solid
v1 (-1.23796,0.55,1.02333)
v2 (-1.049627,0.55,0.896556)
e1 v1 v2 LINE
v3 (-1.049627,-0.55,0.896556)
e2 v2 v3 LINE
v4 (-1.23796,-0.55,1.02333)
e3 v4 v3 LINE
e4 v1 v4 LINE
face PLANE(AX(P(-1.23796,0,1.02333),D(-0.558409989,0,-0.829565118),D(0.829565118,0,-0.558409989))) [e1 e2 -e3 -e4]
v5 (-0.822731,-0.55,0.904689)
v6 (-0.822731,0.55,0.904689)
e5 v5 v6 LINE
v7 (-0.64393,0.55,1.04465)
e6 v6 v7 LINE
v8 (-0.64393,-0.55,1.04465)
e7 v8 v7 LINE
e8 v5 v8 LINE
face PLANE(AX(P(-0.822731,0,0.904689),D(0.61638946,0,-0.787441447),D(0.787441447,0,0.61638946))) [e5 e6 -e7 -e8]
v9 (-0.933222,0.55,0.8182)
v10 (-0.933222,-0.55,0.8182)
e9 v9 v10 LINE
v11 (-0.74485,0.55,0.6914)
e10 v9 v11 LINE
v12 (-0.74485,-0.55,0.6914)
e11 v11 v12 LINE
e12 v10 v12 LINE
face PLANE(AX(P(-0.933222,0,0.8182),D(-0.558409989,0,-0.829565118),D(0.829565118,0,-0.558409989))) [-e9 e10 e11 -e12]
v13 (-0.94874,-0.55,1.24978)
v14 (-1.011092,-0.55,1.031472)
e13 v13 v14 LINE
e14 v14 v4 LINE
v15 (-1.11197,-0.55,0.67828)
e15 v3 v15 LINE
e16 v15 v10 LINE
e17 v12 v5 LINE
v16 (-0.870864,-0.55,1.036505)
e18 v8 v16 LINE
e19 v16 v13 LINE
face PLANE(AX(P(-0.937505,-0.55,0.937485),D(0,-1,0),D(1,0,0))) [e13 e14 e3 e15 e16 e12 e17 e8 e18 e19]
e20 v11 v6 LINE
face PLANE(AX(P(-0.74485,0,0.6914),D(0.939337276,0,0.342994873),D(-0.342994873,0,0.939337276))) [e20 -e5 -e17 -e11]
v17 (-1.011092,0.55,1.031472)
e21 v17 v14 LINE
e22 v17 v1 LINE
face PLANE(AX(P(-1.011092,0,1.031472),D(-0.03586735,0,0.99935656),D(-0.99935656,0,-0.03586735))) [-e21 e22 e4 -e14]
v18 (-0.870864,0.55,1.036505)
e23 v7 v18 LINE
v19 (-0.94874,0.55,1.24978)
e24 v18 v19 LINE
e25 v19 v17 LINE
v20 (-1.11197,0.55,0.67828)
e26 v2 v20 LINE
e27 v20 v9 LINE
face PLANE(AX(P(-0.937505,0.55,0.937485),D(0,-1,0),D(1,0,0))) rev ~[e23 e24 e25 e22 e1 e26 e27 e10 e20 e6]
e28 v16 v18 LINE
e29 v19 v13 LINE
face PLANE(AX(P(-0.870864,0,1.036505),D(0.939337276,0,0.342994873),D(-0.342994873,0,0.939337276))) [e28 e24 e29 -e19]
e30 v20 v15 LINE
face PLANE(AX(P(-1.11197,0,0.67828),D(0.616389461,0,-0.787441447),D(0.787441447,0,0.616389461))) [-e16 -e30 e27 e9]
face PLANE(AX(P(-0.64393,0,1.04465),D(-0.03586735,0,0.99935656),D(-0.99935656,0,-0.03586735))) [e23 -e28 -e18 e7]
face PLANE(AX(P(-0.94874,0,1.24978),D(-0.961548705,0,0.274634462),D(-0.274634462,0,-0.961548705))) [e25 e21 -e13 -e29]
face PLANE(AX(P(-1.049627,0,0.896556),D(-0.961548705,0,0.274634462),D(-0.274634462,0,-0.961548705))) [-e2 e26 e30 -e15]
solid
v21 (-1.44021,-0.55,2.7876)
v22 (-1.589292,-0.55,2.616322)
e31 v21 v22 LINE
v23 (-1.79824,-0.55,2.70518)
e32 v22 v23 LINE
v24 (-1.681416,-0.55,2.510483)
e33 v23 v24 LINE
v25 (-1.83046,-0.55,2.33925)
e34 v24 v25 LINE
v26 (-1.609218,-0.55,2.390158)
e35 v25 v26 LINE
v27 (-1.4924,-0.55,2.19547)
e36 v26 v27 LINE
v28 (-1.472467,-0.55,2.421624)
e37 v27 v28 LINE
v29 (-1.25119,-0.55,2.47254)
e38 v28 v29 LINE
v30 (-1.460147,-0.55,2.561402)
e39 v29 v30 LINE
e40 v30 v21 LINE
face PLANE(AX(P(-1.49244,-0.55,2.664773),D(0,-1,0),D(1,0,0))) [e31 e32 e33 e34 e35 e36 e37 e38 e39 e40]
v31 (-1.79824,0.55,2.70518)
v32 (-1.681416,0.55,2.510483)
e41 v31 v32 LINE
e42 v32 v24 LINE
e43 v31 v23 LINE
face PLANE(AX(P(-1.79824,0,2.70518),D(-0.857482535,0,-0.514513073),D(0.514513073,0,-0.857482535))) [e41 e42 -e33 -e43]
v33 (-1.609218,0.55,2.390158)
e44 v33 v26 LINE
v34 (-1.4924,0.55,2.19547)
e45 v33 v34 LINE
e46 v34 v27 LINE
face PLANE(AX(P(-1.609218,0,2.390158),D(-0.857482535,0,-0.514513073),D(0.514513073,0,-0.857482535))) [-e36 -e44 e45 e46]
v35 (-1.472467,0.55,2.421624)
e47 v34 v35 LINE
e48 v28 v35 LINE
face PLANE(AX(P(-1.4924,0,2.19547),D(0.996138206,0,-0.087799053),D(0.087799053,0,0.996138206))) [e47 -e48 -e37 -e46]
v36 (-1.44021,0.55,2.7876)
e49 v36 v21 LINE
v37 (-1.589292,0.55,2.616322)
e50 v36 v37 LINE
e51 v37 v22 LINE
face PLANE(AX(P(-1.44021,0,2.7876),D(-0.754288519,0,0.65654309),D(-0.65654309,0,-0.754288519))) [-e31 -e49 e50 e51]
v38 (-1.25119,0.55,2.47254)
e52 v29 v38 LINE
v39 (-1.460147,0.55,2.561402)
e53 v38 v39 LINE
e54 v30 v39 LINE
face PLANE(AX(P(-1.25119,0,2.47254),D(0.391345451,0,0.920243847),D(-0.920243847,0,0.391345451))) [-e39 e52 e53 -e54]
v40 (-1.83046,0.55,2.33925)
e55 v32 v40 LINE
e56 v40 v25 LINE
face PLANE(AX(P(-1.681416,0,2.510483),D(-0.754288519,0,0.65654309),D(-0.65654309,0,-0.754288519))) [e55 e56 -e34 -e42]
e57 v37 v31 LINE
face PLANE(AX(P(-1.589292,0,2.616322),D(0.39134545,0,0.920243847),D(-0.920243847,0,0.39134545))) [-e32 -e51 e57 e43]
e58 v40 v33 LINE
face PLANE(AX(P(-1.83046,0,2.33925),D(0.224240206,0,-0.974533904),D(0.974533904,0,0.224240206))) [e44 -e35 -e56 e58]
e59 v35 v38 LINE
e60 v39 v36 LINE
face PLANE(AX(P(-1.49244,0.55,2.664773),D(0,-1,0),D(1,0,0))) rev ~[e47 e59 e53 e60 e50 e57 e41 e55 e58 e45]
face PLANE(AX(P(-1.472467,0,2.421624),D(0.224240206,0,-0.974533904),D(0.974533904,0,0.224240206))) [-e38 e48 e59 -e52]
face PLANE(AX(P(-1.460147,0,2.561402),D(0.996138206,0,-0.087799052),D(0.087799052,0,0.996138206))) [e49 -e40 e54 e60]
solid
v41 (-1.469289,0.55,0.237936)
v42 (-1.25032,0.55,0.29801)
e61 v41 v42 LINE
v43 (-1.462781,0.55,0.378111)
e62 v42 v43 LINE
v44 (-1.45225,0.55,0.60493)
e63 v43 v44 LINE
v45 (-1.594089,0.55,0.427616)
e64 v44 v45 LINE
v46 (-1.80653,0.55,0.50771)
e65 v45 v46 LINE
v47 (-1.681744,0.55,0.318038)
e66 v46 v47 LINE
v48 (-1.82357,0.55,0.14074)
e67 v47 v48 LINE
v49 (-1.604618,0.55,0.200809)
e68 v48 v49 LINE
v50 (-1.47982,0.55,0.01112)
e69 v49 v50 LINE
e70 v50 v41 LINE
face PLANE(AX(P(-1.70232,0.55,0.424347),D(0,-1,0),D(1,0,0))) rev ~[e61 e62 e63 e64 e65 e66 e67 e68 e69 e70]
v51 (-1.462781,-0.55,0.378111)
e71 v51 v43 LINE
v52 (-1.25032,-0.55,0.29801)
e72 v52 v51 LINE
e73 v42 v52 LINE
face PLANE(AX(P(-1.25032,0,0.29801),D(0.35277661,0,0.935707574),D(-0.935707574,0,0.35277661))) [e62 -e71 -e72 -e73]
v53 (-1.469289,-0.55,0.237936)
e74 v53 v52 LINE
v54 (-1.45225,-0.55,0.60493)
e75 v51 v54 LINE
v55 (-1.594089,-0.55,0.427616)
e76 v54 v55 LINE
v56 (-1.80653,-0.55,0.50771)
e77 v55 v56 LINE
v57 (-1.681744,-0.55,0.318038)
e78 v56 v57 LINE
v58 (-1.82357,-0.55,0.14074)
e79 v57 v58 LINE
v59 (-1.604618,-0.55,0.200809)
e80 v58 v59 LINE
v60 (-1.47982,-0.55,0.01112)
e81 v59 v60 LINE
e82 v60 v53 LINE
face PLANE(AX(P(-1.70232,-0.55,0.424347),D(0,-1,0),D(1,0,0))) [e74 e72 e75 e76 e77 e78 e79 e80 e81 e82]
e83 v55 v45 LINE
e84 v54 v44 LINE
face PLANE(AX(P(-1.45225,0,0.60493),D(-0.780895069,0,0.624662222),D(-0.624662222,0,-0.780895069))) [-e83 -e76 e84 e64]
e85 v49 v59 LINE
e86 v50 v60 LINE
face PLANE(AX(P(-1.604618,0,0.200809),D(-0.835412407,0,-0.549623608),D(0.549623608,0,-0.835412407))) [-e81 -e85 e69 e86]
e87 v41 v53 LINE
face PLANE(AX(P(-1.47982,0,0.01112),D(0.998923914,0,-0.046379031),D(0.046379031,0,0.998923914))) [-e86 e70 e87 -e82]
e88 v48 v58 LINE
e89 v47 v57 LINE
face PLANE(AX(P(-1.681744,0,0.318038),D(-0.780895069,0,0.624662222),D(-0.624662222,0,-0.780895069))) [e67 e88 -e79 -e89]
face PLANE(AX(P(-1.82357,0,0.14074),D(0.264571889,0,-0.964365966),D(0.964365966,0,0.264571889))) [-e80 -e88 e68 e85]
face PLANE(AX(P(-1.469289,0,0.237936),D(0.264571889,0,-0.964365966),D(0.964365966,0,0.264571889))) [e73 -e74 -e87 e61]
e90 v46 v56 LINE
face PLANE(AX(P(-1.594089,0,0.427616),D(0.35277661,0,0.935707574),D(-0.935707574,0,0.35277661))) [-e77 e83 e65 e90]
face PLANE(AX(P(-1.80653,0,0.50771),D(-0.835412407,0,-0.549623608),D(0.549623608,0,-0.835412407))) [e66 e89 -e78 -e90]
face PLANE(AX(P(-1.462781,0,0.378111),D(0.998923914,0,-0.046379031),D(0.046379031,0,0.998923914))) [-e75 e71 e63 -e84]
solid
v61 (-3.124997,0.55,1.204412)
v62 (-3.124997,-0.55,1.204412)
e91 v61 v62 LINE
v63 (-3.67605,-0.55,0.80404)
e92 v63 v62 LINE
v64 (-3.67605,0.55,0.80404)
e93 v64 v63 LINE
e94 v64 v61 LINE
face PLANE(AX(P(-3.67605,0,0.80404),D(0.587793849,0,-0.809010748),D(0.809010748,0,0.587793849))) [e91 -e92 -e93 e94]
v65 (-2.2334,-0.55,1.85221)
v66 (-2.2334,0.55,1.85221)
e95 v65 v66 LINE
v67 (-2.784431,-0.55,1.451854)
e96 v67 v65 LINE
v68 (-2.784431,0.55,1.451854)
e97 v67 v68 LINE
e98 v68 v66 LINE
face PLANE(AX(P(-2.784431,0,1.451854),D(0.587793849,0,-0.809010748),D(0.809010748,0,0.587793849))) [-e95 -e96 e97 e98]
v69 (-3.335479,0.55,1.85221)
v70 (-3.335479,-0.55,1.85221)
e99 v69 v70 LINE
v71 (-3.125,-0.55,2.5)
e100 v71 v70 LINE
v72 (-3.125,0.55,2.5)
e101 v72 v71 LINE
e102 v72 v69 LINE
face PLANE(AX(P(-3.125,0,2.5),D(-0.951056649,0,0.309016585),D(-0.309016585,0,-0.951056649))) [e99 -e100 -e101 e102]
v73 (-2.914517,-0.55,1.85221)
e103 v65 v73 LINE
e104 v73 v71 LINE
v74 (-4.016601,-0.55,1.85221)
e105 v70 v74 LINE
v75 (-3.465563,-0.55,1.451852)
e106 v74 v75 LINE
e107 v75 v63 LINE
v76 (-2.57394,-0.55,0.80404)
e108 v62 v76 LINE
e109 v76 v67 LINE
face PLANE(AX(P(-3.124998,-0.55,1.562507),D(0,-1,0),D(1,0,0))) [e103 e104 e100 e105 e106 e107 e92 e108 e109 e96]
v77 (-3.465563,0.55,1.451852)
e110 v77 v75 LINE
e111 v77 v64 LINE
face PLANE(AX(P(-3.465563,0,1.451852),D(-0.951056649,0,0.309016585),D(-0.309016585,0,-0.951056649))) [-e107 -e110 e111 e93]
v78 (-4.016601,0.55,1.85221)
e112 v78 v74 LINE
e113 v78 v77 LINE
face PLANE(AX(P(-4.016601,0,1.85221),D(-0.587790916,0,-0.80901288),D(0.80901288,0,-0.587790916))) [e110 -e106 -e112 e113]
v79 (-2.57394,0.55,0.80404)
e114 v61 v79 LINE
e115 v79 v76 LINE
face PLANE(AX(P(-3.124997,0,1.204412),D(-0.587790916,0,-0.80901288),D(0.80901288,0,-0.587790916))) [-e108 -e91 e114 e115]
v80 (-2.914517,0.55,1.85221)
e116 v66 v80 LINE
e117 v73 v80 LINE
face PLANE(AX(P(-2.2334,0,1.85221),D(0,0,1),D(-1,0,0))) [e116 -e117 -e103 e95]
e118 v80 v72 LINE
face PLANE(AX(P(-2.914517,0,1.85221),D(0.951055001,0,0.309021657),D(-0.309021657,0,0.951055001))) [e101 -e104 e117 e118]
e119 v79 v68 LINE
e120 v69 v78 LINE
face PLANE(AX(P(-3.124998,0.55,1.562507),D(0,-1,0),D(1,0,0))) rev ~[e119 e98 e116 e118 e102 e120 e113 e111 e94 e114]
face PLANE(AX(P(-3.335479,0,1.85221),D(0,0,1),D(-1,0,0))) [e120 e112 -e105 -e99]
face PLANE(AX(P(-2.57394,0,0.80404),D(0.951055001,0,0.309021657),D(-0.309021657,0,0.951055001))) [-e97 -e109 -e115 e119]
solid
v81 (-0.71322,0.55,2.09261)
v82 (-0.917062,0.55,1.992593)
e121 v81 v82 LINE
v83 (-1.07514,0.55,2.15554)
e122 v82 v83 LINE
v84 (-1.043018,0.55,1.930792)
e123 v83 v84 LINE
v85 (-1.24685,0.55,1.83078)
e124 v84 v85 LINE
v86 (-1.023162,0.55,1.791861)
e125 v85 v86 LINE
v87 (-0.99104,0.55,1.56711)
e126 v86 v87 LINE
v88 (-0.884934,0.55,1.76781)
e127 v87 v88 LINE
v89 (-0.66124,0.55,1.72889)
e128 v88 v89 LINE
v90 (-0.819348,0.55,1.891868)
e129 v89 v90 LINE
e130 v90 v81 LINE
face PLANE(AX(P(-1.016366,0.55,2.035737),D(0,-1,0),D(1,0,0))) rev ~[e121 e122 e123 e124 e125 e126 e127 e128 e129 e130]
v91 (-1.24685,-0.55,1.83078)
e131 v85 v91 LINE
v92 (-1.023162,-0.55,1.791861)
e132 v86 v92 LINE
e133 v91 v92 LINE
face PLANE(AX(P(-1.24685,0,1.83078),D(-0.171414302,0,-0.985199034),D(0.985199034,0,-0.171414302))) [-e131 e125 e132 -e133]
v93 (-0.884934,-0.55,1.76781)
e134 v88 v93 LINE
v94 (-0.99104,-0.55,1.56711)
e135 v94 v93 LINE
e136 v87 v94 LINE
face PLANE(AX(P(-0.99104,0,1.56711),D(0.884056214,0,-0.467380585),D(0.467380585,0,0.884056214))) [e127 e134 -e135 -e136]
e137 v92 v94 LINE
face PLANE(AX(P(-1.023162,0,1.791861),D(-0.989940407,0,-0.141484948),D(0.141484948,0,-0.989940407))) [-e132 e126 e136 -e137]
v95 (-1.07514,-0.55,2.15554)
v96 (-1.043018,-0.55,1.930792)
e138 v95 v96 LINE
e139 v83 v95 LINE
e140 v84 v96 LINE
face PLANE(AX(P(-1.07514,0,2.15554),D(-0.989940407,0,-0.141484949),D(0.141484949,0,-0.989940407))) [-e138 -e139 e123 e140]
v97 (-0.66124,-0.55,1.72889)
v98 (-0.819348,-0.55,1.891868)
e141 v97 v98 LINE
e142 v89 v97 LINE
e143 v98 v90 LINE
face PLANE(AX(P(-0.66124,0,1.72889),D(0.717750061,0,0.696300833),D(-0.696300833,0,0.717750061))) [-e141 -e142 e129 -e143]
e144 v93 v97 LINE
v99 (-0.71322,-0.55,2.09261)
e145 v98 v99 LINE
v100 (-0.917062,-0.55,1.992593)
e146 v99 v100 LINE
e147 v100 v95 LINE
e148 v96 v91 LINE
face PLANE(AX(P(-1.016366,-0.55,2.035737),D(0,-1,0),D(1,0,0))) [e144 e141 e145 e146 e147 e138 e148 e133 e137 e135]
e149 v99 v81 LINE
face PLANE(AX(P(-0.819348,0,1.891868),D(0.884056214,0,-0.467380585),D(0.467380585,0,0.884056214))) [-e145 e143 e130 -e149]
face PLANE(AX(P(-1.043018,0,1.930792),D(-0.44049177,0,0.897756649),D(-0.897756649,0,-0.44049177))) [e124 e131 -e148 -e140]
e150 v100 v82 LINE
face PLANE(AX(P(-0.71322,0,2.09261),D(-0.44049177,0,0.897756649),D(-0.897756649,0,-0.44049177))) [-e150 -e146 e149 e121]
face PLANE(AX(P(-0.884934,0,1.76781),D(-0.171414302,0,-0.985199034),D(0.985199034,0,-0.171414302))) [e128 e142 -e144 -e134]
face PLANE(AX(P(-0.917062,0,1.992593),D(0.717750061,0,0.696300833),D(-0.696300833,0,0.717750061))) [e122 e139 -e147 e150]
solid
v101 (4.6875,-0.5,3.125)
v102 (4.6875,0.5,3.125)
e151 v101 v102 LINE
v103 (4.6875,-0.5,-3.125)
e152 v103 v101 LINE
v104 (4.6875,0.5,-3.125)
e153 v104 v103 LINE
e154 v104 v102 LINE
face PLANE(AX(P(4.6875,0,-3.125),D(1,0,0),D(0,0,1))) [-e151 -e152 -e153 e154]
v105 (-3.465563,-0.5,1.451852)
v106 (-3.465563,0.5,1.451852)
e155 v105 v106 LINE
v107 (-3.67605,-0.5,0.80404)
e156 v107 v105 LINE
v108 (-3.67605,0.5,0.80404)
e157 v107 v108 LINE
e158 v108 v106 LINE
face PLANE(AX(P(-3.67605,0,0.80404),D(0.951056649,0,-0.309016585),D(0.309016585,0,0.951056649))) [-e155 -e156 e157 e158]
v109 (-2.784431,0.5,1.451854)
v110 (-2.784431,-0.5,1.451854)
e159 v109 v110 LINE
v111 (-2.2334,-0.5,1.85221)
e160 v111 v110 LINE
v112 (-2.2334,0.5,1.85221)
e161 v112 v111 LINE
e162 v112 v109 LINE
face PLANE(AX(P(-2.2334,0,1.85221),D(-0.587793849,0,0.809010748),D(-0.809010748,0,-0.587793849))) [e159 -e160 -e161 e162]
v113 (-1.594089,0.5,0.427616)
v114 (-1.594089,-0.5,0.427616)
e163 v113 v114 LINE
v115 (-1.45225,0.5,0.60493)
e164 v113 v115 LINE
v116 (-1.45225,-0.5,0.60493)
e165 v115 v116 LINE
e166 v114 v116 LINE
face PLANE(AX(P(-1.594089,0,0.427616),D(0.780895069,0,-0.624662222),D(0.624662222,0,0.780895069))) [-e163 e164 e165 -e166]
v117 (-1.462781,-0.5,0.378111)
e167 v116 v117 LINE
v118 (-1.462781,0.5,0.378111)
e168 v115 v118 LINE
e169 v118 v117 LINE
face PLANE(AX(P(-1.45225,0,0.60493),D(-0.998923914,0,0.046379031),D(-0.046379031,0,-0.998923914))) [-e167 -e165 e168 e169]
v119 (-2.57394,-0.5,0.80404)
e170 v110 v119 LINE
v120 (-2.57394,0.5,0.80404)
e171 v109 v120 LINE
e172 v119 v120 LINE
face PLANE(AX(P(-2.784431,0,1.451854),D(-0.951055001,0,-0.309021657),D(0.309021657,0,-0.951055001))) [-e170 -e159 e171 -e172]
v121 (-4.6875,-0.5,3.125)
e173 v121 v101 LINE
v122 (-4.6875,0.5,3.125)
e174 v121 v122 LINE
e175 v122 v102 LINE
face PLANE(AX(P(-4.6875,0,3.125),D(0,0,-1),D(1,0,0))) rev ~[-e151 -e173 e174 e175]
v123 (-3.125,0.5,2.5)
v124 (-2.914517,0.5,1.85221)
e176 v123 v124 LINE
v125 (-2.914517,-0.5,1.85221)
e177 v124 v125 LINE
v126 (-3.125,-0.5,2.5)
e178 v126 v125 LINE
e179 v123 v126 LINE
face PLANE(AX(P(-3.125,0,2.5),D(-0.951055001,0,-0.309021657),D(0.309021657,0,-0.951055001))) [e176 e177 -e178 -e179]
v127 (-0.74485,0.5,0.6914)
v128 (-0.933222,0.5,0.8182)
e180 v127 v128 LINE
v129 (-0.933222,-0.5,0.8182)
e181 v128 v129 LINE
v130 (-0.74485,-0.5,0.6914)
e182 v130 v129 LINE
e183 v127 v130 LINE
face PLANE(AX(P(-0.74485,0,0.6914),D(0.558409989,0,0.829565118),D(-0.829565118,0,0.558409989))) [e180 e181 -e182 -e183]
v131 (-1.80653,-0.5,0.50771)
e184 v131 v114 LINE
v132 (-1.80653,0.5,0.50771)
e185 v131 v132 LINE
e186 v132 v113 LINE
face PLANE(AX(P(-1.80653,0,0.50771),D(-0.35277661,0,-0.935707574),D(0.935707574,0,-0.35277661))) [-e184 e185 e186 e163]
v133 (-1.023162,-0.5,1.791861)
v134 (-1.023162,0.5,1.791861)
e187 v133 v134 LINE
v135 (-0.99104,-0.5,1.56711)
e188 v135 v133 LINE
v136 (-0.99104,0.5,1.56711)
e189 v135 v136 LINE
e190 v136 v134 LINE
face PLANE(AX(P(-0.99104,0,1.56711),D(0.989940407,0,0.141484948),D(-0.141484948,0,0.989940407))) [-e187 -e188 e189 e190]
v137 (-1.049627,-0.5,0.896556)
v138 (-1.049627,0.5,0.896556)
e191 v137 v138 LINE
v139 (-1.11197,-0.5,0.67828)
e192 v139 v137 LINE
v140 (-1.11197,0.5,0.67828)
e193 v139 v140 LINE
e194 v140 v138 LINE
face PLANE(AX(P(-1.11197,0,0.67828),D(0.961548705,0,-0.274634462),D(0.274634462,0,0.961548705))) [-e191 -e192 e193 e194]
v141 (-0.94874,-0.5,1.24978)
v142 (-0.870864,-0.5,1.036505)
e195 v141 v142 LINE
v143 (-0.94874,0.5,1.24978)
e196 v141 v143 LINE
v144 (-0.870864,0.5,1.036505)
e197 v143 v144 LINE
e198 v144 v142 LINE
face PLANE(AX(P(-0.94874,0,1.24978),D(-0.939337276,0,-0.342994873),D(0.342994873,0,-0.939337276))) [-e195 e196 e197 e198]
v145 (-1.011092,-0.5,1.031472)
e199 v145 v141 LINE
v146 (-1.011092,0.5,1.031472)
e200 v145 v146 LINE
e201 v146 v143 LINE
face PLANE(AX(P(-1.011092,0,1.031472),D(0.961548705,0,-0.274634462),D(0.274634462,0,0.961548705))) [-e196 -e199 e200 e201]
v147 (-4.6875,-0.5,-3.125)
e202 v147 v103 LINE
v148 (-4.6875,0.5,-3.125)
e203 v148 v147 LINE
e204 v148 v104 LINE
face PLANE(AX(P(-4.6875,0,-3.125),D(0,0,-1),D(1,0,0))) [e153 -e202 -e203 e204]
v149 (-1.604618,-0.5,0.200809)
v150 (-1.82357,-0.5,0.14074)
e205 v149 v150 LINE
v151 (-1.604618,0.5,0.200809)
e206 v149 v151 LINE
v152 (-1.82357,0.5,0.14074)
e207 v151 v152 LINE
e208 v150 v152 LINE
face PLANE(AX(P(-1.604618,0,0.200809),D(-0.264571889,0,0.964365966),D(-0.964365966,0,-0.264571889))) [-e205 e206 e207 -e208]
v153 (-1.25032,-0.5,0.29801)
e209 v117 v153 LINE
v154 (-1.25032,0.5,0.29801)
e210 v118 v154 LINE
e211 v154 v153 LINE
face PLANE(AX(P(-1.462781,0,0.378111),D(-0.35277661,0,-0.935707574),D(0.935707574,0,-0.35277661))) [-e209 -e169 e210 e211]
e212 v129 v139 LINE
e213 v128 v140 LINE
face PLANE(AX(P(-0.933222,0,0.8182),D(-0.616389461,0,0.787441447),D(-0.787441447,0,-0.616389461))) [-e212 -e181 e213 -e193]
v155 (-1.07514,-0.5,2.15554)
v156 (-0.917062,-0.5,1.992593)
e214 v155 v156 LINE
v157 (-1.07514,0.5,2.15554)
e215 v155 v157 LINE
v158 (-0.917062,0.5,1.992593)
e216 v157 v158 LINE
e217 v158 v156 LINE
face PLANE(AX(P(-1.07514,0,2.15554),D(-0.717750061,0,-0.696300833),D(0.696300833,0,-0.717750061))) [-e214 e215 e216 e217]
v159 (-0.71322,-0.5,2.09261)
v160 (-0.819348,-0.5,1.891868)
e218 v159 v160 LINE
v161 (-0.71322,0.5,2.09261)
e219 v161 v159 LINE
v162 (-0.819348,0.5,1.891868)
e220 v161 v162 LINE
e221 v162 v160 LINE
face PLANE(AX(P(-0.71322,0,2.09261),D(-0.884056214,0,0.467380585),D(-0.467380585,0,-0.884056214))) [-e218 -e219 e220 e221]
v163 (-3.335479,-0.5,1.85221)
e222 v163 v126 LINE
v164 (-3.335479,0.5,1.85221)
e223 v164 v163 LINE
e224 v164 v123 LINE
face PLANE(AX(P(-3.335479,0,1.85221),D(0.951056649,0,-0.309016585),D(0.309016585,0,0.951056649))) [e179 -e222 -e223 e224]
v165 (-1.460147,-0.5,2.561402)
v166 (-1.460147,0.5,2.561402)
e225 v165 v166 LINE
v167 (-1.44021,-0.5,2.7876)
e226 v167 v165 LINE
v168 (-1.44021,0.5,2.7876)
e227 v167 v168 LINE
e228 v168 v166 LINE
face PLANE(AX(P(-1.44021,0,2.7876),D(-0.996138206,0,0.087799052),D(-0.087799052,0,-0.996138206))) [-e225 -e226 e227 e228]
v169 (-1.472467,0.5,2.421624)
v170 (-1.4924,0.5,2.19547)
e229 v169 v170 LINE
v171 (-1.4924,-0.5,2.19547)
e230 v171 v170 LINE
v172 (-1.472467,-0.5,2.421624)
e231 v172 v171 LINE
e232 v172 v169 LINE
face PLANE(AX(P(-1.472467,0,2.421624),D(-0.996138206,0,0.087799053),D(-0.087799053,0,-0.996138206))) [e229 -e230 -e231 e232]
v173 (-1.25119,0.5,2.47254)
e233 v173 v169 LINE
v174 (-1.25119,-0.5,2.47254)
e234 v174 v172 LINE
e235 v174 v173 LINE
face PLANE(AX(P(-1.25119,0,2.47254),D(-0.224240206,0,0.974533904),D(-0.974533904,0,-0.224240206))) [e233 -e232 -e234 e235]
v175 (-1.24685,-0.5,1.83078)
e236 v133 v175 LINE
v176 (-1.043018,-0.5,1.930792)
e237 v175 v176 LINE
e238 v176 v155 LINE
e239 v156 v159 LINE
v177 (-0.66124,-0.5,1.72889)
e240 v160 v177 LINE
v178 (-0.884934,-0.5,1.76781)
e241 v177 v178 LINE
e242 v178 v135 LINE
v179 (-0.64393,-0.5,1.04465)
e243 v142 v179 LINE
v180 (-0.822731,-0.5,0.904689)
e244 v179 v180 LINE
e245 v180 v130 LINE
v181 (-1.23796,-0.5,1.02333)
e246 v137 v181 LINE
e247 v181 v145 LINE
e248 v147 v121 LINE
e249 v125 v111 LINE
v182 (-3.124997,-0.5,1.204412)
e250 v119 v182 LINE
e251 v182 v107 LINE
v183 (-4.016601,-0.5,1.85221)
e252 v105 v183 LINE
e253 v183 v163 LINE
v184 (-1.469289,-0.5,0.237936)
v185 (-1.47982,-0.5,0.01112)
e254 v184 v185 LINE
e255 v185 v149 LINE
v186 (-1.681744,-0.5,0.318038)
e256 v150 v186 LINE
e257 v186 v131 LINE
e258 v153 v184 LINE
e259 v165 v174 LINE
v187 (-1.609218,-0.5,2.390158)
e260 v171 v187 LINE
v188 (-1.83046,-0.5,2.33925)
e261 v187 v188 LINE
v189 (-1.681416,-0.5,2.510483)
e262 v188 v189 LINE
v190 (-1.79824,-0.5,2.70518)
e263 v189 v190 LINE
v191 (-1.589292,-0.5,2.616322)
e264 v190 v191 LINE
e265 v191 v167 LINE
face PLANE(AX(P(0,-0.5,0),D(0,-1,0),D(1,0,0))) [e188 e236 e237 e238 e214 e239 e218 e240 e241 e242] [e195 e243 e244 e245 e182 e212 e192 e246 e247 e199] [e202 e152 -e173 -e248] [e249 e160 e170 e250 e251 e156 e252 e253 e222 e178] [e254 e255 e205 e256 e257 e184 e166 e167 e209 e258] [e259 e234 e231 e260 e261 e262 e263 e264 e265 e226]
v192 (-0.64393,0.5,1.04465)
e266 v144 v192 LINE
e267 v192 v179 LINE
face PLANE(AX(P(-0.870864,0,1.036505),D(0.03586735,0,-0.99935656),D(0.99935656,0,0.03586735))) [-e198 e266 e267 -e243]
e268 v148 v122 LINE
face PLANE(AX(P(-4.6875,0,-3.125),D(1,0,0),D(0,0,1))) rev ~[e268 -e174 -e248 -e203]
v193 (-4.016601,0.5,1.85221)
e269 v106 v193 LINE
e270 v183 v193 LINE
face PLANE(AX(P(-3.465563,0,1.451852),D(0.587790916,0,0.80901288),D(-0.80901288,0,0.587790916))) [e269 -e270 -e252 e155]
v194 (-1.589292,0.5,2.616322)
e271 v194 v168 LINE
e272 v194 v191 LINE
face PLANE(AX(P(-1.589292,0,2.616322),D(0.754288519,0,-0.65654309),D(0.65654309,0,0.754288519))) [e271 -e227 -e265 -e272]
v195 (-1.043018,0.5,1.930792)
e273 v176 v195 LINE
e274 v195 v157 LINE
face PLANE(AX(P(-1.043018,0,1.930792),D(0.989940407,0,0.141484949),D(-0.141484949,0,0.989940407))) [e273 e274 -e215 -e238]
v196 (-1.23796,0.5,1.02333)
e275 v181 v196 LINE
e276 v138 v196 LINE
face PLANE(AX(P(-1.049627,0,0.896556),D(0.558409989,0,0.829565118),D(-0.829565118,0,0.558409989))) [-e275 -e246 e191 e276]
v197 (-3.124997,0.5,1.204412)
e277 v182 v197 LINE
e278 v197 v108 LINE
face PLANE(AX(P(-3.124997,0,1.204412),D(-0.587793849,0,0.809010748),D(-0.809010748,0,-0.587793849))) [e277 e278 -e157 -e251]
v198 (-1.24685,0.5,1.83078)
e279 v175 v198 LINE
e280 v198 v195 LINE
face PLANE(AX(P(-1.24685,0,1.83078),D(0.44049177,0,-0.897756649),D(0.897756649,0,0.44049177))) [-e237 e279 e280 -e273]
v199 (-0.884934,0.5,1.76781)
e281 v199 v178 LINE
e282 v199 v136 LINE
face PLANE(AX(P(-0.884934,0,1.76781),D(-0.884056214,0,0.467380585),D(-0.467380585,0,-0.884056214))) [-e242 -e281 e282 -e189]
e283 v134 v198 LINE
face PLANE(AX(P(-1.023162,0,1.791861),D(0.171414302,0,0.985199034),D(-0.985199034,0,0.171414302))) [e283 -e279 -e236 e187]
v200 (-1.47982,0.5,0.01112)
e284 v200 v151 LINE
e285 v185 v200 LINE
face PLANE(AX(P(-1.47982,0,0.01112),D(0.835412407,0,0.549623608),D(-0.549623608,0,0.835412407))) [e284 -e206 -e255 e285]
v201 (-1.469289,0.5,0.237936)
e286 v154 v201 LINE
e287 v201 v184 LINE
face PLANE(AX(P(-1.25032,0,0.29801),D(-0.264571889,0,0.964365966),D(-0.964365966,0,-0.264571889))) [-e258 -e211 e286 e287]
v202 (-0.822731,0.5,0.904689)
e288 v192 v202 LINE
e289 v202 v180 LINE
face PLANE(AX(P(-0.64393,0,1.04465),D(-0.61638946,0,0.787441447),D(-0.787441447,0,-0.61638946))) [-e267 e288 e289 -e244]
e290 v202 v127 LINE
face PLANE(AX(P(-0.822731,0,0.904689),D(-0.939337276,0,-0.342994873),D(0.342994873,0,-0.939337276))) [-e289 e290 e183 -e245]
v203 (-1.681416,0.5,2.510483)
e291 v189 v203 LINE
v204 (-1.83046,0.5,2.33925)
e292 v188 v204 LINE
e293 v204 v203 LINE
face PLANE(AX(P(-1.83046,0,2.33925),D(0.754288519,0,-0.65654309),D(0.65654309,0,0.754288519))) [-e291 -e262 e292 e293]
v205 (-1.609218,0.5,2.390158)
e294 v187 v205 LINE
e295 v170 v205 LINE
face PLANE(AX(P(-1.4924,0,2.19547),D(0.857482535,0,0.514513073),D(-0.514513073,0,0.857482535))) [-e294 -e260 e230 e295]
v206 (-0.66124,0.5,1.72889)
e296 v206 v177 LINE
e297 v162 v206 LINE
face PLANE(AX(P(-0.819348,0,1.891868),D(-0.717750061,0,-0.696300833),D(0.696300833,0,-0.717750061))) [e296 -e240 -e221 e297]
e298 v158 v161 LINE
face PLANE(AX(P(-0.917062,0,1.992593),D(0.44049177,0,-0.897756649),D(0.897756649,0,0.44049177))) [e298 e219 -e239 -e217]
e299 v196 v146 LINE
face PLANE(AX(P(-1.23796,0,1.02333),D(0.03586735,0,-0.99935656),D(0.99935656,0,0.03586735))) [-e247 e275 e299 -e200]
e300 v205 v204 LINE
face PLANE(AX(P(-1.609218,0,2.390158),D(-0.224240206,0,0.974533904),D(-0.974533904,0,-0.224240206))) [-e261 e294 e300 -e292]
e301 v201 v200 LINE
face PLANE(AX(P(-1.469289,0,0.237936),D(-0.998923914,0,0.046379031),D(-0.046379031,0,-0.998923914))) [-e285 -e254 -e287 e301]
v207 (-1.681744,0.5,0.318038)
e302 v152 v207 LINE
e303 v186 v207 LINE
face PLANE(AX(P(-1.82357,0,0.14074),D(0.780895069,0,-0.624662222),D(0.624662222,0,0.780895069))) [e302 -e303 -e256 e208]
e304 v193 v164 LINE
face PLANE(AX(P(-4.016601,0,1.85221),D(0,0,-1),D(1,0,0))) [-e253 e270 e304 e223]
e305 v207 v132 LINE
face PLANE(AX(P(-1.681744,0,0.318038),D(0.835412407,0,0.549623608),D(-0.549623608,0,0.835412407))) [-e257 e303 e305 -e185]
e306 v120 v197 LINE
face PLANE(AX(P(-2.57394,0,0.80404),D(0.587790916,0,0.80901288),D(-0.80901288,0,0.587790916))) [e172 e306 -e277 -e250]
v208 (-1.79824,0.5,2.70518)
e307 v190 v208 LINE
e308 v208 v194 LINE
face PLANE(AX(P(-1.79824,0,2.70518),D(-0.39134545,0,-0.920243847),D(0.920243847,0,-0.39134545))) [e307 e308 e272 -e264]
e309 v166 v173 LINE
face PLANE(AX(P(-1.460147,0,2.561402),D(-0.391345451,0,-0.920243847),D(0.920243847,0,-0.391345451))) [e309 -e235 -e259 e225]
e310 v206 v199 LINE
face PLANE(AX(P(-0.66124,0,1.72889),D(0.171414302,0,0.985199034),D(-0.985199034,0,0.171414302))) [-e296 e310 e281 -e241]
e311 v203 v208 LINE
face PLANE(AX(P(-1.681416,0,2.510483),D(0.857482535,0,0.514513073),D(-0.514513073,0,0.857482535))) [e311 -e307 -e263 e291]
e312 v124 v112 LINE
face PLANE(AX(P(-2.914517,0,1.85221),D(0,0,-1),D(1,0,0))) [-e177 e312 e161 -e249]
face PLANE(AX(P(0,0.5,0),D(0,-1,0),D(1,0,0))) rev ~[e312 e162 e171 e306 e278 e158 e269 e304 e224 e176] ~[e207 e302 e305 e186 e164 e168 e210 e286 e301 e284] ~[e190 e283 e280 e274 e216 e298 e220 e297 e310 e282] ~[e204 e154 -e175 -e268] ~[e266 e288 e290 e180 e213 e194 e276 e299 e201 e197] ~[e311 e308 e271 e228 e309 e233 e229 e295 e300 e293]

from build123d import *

# Parameters (mm, degrees)
F0_W     = 9.375
F0_H     = 6.25
F1_DEPTH = 0.5
F2_DEPTH = 0.55


with BuildPart() as f1:
    # F0 (on Front) → F1 (new body, symmetric)
    with BuildSketch(Plane.XZ):
        Rectangle(F0_W, F0_H)
        Polygon((-1.5940887542, 0.4276162778), (-1.45225, 0.60493), (-1.4627809703, 0.3781111587), (-1.25032, 0.29801), (-1.4692891501, 0.2379362482), (-1.47982, 0.01112), (-1.6046177776, 0.2008091077), (-1.82357, 0.14074), (-1.6817436333, 0.3180382365), (-1.80653, 0.50771), align=None, mode=Mode.SUBTRACT)
        Polygon((-0.8708636636, 1.0365052502), (-0.64393, 1.04465), (-0.8227314344, 0.9046887114), (-0.74485, 0.6914), (-0.933221672, 0.8181997183), (-1.11197, 0.67828), (-1.0496266799, 0.8965560977), (-1.23796, 1.02333), (-1.011092323, 1.0314723815), (-0.94874, 1.24978), align=None, mode=Mode.SUBTRACT)
        Polygon((-3.3354794214, 1.85221), (-3.125, 2.5), (-2.914516759, 1.85221), (-2.2334, 1.85221), (-2.7844309261, 1.4518536518), (-2.57394, 0.80404), (-3.1249971008, 1.204412313), (-3.67605, 0.80404), (-3.4655634626, 1.4518519009), (-4.016601, 1.85221), align=None, mode=Mode.SUBTRACT)
        Polygon((-0.9170624909, 1.9925929856), (-0.71322, 2.09261), (-0.8193476982, 1.8918681334), (-0.66124, 1.72889), (-0.8849342003, 1.7678104455), (-0.99104, 1.56711), (-1.0231619648, 1.7918606272), (-1.24685, 1.83078), (-1.043018366, 1.9307916874), (-1.07514, 2.15554), align=None, mode=Mode.SUBTRACT)
        Polygon((-1.5892924054, 2.6163223665), (-1.44021, 2.7876), (-1.460146995, 2.5614016312), (-1.25119, 2.47254), (-1.4724668983, 2.421624196), (-1.4924, 2.19547), (-1.6092180103, 2.3901577715), (-1.83046, 2.33925), (-1.681416449, 2.5104829945), (-1.79824, 2.70518), align=None, mode=Mode.SUBTRACT)
    extrude(amount=F1_DEPTH, both=True)


with BuildPart() as f2:
    # F0 (on Front) → F2 (new body, symmetric)
    with BuildSketch(Plane.XZ):
        Polygon((-2.7844309261, 1.4518536518), (-2.914516759, 1.85221), (-3.3354794214, 1.85221), (-3.4655634626, 1.4518519009), (-3.1249971008, 1.204412313), align=None)
        Polygon((-2.914516759, 1.85221), (-3.125, 2.5), (-3.3354794214, 1.85221), align=None)
        Polygon((-2.2334, 1.85221), (-2.914516759, 1.85221), (-2.7844309261, 1.4518536518), align=None)
        Polygon((-3.4655634626, 1.4518519009), (-3.3354794214, 1.85221), (-4.016601, 1.85221), align=None)
        Polygon((-3.1249971008, 1.204412313), (-3.4655634626, 1.4518519009), (-3.67605, 0.80404), align=None)
        Polygon((-2.57394, 0.80404), (-2.7844309261, 1.4518536518), (-3.1249971008, 1.204412313), align=None)
    extrude(amount=F2_DEPTH, both=True)


with BuildPart() as f2b:
    # F0 (on Front) → F2, piece 2 (new body, symmetric)
    with BuildSketch(Plane.XZ):
        Polygon((-1.6817436333, 0.3180382365), (-1.5940887542, 0.4276162778), (-1.80653, 0.50771), align=None)
        Polygon((-1.4627809703, 0.3781111587), (-1.45225, 0.60493), (-1.5940887542, 0.4276162778), align=None)
        Polygon((-1.25032, 0.29801), (-1.4627809703, 0.3781111587), (-1.4692891501, 0.2379362482), align=None)
        Polygon((-1.47982, 0.01112), (-1.4692891501, 0.2379362482), (-1.6046177776, 0.2008091077), align=None)
        Polygon((-1.4692891501, 0.2379362482), (-1.4627809703, 0.3781111587), (-1.5940887542, 0.4276162778), (-1.6817436333, 0.3180382365), (-1.6046177776, 0.2008091077), align=None)
        Polygon((-1.6046177776, 0.2008091077), (-1.6817436333, 0.3180382365), (-1.82357, 0.14074), align=None)
    extrude(amount=F2_DEPTH, both=True)


with BuildPart() as f2c:
    # F0 (on Front) → F2, piece 3 (new body, symmetric)
    with BuildSketch(Plane.XZ):
        Polygon((-0.933221672, 0.8181997183), (-0.8227314344, 0.9046887114), (-0.8708636636, 1.0365052502), (-1.011092323, 1.0314723815), (-1.0496266799, 0.8965560977), align=None)
        Polygon((-0.74485, 0.6914), (-0.8227314344, 0.9046887114), (-0.933221672, 0.8181997183), align=None)
        Polygon((-1.11197, 0.67828), (-0.933221672, 0.8181997183), (-1.0496266799, 0.8965560977), align=None)
        Polygon((-1.011092323, 1.0314723815), (-0.8708636636, 1.0365052502), (-0.94874, 1.24978), align=None)
        Polygon((-1.0496266799, 0.8965560977), (-1.011092323, 1.0314723815), (-1.23796, 1.02333), align=None)
        Polygon((-0.8227314344, 0.9046887114), (-0.64393, 1.04465), (-0.8708636636, 1.0365052502), align=None)
    extrude(amount=F2_DEPTH, both=True)


with BuildPart() as f2d:
    # F0 (on Front) → F2, piece 4 (new body, symmetric)
    with BuildSketch(Plane.XZ):
        Polygon((-1.043018366, 1.9307916874), (-0.9170624909, 1.9925929856), (-1.07514, 2.15554), align=None)
        Polygon((-0.8193476982, 1.8918681334), (-0.71322, 2.09261), (-0.9170624909, 1.9925929856), align=None)
        Polygon((-0.8849342003, 1.7678104455), (-0.8193476982, 1.8918681334), (-0.9170624909, 1.9925929856), (-1.043018366, 1.9307916874), (-1.0231619648, 1.7918606272), align=None)
        Polygon((-0.66124, 1.72889), (-0.8193476982, 1.8918681334), (-0.8849342003, 1.7678104455), align=None)
        Polygon((-0.99104, 1.56711), (-0.8849342003, 1.7678104455), (-1.0231619648, 1.7918606272), align=None)
        Polygon((-1.0231619648, 1.7918606272), (-1.043018366, 1.9307916874), (-1.24685, 1.83078), align=None)
    extrude(amount=F2_DEPTH, both=True)


with BuildPart() as f2e:
    # F0 (on Front) → F2, piece 5 (new body, symmetric)
    with BuildSketch(Plane.XZ):
        Polygon((-1.460146995, 2.5614016312), (-1.44021, 2.7876), (-1.5892924054, 2.6163223665), align=None)
        Polygon((-1.4724668983, 2.421624196), (-1.460146995, 2.5614016312), (-1.5892924054, 2.6163223665), (-1.681416449, 2.5104829945), (-1.6092180103, 2.3901577715), align=None)
        Polygon((-1.681416449, 2.5104829945), (-1.5892924054, 2.6163223665), (-1.79824, 2.70518), align=None)
        Polygon((-1.6092180103, 2.3901577715), (-1.681416449, 2.5104829945), (-1.83046, 2.33925), align=None)
        Polygon((-1.4924, 2.19547), (-1.4724668983, 2.421624196), (-1.6092180103, 2.3901577715), align=None)
        Polygon((-1.25119, 2.47254), (-1.460146995, 2.5614016312), (-1.4724668983, 2.421624196), align=None)
    extrude(amount=F2_DEPTH, both=True)


solid = Compound([f1.part, f2.part, f2b.part, f2c.part, f2d.part, f2e.part])
